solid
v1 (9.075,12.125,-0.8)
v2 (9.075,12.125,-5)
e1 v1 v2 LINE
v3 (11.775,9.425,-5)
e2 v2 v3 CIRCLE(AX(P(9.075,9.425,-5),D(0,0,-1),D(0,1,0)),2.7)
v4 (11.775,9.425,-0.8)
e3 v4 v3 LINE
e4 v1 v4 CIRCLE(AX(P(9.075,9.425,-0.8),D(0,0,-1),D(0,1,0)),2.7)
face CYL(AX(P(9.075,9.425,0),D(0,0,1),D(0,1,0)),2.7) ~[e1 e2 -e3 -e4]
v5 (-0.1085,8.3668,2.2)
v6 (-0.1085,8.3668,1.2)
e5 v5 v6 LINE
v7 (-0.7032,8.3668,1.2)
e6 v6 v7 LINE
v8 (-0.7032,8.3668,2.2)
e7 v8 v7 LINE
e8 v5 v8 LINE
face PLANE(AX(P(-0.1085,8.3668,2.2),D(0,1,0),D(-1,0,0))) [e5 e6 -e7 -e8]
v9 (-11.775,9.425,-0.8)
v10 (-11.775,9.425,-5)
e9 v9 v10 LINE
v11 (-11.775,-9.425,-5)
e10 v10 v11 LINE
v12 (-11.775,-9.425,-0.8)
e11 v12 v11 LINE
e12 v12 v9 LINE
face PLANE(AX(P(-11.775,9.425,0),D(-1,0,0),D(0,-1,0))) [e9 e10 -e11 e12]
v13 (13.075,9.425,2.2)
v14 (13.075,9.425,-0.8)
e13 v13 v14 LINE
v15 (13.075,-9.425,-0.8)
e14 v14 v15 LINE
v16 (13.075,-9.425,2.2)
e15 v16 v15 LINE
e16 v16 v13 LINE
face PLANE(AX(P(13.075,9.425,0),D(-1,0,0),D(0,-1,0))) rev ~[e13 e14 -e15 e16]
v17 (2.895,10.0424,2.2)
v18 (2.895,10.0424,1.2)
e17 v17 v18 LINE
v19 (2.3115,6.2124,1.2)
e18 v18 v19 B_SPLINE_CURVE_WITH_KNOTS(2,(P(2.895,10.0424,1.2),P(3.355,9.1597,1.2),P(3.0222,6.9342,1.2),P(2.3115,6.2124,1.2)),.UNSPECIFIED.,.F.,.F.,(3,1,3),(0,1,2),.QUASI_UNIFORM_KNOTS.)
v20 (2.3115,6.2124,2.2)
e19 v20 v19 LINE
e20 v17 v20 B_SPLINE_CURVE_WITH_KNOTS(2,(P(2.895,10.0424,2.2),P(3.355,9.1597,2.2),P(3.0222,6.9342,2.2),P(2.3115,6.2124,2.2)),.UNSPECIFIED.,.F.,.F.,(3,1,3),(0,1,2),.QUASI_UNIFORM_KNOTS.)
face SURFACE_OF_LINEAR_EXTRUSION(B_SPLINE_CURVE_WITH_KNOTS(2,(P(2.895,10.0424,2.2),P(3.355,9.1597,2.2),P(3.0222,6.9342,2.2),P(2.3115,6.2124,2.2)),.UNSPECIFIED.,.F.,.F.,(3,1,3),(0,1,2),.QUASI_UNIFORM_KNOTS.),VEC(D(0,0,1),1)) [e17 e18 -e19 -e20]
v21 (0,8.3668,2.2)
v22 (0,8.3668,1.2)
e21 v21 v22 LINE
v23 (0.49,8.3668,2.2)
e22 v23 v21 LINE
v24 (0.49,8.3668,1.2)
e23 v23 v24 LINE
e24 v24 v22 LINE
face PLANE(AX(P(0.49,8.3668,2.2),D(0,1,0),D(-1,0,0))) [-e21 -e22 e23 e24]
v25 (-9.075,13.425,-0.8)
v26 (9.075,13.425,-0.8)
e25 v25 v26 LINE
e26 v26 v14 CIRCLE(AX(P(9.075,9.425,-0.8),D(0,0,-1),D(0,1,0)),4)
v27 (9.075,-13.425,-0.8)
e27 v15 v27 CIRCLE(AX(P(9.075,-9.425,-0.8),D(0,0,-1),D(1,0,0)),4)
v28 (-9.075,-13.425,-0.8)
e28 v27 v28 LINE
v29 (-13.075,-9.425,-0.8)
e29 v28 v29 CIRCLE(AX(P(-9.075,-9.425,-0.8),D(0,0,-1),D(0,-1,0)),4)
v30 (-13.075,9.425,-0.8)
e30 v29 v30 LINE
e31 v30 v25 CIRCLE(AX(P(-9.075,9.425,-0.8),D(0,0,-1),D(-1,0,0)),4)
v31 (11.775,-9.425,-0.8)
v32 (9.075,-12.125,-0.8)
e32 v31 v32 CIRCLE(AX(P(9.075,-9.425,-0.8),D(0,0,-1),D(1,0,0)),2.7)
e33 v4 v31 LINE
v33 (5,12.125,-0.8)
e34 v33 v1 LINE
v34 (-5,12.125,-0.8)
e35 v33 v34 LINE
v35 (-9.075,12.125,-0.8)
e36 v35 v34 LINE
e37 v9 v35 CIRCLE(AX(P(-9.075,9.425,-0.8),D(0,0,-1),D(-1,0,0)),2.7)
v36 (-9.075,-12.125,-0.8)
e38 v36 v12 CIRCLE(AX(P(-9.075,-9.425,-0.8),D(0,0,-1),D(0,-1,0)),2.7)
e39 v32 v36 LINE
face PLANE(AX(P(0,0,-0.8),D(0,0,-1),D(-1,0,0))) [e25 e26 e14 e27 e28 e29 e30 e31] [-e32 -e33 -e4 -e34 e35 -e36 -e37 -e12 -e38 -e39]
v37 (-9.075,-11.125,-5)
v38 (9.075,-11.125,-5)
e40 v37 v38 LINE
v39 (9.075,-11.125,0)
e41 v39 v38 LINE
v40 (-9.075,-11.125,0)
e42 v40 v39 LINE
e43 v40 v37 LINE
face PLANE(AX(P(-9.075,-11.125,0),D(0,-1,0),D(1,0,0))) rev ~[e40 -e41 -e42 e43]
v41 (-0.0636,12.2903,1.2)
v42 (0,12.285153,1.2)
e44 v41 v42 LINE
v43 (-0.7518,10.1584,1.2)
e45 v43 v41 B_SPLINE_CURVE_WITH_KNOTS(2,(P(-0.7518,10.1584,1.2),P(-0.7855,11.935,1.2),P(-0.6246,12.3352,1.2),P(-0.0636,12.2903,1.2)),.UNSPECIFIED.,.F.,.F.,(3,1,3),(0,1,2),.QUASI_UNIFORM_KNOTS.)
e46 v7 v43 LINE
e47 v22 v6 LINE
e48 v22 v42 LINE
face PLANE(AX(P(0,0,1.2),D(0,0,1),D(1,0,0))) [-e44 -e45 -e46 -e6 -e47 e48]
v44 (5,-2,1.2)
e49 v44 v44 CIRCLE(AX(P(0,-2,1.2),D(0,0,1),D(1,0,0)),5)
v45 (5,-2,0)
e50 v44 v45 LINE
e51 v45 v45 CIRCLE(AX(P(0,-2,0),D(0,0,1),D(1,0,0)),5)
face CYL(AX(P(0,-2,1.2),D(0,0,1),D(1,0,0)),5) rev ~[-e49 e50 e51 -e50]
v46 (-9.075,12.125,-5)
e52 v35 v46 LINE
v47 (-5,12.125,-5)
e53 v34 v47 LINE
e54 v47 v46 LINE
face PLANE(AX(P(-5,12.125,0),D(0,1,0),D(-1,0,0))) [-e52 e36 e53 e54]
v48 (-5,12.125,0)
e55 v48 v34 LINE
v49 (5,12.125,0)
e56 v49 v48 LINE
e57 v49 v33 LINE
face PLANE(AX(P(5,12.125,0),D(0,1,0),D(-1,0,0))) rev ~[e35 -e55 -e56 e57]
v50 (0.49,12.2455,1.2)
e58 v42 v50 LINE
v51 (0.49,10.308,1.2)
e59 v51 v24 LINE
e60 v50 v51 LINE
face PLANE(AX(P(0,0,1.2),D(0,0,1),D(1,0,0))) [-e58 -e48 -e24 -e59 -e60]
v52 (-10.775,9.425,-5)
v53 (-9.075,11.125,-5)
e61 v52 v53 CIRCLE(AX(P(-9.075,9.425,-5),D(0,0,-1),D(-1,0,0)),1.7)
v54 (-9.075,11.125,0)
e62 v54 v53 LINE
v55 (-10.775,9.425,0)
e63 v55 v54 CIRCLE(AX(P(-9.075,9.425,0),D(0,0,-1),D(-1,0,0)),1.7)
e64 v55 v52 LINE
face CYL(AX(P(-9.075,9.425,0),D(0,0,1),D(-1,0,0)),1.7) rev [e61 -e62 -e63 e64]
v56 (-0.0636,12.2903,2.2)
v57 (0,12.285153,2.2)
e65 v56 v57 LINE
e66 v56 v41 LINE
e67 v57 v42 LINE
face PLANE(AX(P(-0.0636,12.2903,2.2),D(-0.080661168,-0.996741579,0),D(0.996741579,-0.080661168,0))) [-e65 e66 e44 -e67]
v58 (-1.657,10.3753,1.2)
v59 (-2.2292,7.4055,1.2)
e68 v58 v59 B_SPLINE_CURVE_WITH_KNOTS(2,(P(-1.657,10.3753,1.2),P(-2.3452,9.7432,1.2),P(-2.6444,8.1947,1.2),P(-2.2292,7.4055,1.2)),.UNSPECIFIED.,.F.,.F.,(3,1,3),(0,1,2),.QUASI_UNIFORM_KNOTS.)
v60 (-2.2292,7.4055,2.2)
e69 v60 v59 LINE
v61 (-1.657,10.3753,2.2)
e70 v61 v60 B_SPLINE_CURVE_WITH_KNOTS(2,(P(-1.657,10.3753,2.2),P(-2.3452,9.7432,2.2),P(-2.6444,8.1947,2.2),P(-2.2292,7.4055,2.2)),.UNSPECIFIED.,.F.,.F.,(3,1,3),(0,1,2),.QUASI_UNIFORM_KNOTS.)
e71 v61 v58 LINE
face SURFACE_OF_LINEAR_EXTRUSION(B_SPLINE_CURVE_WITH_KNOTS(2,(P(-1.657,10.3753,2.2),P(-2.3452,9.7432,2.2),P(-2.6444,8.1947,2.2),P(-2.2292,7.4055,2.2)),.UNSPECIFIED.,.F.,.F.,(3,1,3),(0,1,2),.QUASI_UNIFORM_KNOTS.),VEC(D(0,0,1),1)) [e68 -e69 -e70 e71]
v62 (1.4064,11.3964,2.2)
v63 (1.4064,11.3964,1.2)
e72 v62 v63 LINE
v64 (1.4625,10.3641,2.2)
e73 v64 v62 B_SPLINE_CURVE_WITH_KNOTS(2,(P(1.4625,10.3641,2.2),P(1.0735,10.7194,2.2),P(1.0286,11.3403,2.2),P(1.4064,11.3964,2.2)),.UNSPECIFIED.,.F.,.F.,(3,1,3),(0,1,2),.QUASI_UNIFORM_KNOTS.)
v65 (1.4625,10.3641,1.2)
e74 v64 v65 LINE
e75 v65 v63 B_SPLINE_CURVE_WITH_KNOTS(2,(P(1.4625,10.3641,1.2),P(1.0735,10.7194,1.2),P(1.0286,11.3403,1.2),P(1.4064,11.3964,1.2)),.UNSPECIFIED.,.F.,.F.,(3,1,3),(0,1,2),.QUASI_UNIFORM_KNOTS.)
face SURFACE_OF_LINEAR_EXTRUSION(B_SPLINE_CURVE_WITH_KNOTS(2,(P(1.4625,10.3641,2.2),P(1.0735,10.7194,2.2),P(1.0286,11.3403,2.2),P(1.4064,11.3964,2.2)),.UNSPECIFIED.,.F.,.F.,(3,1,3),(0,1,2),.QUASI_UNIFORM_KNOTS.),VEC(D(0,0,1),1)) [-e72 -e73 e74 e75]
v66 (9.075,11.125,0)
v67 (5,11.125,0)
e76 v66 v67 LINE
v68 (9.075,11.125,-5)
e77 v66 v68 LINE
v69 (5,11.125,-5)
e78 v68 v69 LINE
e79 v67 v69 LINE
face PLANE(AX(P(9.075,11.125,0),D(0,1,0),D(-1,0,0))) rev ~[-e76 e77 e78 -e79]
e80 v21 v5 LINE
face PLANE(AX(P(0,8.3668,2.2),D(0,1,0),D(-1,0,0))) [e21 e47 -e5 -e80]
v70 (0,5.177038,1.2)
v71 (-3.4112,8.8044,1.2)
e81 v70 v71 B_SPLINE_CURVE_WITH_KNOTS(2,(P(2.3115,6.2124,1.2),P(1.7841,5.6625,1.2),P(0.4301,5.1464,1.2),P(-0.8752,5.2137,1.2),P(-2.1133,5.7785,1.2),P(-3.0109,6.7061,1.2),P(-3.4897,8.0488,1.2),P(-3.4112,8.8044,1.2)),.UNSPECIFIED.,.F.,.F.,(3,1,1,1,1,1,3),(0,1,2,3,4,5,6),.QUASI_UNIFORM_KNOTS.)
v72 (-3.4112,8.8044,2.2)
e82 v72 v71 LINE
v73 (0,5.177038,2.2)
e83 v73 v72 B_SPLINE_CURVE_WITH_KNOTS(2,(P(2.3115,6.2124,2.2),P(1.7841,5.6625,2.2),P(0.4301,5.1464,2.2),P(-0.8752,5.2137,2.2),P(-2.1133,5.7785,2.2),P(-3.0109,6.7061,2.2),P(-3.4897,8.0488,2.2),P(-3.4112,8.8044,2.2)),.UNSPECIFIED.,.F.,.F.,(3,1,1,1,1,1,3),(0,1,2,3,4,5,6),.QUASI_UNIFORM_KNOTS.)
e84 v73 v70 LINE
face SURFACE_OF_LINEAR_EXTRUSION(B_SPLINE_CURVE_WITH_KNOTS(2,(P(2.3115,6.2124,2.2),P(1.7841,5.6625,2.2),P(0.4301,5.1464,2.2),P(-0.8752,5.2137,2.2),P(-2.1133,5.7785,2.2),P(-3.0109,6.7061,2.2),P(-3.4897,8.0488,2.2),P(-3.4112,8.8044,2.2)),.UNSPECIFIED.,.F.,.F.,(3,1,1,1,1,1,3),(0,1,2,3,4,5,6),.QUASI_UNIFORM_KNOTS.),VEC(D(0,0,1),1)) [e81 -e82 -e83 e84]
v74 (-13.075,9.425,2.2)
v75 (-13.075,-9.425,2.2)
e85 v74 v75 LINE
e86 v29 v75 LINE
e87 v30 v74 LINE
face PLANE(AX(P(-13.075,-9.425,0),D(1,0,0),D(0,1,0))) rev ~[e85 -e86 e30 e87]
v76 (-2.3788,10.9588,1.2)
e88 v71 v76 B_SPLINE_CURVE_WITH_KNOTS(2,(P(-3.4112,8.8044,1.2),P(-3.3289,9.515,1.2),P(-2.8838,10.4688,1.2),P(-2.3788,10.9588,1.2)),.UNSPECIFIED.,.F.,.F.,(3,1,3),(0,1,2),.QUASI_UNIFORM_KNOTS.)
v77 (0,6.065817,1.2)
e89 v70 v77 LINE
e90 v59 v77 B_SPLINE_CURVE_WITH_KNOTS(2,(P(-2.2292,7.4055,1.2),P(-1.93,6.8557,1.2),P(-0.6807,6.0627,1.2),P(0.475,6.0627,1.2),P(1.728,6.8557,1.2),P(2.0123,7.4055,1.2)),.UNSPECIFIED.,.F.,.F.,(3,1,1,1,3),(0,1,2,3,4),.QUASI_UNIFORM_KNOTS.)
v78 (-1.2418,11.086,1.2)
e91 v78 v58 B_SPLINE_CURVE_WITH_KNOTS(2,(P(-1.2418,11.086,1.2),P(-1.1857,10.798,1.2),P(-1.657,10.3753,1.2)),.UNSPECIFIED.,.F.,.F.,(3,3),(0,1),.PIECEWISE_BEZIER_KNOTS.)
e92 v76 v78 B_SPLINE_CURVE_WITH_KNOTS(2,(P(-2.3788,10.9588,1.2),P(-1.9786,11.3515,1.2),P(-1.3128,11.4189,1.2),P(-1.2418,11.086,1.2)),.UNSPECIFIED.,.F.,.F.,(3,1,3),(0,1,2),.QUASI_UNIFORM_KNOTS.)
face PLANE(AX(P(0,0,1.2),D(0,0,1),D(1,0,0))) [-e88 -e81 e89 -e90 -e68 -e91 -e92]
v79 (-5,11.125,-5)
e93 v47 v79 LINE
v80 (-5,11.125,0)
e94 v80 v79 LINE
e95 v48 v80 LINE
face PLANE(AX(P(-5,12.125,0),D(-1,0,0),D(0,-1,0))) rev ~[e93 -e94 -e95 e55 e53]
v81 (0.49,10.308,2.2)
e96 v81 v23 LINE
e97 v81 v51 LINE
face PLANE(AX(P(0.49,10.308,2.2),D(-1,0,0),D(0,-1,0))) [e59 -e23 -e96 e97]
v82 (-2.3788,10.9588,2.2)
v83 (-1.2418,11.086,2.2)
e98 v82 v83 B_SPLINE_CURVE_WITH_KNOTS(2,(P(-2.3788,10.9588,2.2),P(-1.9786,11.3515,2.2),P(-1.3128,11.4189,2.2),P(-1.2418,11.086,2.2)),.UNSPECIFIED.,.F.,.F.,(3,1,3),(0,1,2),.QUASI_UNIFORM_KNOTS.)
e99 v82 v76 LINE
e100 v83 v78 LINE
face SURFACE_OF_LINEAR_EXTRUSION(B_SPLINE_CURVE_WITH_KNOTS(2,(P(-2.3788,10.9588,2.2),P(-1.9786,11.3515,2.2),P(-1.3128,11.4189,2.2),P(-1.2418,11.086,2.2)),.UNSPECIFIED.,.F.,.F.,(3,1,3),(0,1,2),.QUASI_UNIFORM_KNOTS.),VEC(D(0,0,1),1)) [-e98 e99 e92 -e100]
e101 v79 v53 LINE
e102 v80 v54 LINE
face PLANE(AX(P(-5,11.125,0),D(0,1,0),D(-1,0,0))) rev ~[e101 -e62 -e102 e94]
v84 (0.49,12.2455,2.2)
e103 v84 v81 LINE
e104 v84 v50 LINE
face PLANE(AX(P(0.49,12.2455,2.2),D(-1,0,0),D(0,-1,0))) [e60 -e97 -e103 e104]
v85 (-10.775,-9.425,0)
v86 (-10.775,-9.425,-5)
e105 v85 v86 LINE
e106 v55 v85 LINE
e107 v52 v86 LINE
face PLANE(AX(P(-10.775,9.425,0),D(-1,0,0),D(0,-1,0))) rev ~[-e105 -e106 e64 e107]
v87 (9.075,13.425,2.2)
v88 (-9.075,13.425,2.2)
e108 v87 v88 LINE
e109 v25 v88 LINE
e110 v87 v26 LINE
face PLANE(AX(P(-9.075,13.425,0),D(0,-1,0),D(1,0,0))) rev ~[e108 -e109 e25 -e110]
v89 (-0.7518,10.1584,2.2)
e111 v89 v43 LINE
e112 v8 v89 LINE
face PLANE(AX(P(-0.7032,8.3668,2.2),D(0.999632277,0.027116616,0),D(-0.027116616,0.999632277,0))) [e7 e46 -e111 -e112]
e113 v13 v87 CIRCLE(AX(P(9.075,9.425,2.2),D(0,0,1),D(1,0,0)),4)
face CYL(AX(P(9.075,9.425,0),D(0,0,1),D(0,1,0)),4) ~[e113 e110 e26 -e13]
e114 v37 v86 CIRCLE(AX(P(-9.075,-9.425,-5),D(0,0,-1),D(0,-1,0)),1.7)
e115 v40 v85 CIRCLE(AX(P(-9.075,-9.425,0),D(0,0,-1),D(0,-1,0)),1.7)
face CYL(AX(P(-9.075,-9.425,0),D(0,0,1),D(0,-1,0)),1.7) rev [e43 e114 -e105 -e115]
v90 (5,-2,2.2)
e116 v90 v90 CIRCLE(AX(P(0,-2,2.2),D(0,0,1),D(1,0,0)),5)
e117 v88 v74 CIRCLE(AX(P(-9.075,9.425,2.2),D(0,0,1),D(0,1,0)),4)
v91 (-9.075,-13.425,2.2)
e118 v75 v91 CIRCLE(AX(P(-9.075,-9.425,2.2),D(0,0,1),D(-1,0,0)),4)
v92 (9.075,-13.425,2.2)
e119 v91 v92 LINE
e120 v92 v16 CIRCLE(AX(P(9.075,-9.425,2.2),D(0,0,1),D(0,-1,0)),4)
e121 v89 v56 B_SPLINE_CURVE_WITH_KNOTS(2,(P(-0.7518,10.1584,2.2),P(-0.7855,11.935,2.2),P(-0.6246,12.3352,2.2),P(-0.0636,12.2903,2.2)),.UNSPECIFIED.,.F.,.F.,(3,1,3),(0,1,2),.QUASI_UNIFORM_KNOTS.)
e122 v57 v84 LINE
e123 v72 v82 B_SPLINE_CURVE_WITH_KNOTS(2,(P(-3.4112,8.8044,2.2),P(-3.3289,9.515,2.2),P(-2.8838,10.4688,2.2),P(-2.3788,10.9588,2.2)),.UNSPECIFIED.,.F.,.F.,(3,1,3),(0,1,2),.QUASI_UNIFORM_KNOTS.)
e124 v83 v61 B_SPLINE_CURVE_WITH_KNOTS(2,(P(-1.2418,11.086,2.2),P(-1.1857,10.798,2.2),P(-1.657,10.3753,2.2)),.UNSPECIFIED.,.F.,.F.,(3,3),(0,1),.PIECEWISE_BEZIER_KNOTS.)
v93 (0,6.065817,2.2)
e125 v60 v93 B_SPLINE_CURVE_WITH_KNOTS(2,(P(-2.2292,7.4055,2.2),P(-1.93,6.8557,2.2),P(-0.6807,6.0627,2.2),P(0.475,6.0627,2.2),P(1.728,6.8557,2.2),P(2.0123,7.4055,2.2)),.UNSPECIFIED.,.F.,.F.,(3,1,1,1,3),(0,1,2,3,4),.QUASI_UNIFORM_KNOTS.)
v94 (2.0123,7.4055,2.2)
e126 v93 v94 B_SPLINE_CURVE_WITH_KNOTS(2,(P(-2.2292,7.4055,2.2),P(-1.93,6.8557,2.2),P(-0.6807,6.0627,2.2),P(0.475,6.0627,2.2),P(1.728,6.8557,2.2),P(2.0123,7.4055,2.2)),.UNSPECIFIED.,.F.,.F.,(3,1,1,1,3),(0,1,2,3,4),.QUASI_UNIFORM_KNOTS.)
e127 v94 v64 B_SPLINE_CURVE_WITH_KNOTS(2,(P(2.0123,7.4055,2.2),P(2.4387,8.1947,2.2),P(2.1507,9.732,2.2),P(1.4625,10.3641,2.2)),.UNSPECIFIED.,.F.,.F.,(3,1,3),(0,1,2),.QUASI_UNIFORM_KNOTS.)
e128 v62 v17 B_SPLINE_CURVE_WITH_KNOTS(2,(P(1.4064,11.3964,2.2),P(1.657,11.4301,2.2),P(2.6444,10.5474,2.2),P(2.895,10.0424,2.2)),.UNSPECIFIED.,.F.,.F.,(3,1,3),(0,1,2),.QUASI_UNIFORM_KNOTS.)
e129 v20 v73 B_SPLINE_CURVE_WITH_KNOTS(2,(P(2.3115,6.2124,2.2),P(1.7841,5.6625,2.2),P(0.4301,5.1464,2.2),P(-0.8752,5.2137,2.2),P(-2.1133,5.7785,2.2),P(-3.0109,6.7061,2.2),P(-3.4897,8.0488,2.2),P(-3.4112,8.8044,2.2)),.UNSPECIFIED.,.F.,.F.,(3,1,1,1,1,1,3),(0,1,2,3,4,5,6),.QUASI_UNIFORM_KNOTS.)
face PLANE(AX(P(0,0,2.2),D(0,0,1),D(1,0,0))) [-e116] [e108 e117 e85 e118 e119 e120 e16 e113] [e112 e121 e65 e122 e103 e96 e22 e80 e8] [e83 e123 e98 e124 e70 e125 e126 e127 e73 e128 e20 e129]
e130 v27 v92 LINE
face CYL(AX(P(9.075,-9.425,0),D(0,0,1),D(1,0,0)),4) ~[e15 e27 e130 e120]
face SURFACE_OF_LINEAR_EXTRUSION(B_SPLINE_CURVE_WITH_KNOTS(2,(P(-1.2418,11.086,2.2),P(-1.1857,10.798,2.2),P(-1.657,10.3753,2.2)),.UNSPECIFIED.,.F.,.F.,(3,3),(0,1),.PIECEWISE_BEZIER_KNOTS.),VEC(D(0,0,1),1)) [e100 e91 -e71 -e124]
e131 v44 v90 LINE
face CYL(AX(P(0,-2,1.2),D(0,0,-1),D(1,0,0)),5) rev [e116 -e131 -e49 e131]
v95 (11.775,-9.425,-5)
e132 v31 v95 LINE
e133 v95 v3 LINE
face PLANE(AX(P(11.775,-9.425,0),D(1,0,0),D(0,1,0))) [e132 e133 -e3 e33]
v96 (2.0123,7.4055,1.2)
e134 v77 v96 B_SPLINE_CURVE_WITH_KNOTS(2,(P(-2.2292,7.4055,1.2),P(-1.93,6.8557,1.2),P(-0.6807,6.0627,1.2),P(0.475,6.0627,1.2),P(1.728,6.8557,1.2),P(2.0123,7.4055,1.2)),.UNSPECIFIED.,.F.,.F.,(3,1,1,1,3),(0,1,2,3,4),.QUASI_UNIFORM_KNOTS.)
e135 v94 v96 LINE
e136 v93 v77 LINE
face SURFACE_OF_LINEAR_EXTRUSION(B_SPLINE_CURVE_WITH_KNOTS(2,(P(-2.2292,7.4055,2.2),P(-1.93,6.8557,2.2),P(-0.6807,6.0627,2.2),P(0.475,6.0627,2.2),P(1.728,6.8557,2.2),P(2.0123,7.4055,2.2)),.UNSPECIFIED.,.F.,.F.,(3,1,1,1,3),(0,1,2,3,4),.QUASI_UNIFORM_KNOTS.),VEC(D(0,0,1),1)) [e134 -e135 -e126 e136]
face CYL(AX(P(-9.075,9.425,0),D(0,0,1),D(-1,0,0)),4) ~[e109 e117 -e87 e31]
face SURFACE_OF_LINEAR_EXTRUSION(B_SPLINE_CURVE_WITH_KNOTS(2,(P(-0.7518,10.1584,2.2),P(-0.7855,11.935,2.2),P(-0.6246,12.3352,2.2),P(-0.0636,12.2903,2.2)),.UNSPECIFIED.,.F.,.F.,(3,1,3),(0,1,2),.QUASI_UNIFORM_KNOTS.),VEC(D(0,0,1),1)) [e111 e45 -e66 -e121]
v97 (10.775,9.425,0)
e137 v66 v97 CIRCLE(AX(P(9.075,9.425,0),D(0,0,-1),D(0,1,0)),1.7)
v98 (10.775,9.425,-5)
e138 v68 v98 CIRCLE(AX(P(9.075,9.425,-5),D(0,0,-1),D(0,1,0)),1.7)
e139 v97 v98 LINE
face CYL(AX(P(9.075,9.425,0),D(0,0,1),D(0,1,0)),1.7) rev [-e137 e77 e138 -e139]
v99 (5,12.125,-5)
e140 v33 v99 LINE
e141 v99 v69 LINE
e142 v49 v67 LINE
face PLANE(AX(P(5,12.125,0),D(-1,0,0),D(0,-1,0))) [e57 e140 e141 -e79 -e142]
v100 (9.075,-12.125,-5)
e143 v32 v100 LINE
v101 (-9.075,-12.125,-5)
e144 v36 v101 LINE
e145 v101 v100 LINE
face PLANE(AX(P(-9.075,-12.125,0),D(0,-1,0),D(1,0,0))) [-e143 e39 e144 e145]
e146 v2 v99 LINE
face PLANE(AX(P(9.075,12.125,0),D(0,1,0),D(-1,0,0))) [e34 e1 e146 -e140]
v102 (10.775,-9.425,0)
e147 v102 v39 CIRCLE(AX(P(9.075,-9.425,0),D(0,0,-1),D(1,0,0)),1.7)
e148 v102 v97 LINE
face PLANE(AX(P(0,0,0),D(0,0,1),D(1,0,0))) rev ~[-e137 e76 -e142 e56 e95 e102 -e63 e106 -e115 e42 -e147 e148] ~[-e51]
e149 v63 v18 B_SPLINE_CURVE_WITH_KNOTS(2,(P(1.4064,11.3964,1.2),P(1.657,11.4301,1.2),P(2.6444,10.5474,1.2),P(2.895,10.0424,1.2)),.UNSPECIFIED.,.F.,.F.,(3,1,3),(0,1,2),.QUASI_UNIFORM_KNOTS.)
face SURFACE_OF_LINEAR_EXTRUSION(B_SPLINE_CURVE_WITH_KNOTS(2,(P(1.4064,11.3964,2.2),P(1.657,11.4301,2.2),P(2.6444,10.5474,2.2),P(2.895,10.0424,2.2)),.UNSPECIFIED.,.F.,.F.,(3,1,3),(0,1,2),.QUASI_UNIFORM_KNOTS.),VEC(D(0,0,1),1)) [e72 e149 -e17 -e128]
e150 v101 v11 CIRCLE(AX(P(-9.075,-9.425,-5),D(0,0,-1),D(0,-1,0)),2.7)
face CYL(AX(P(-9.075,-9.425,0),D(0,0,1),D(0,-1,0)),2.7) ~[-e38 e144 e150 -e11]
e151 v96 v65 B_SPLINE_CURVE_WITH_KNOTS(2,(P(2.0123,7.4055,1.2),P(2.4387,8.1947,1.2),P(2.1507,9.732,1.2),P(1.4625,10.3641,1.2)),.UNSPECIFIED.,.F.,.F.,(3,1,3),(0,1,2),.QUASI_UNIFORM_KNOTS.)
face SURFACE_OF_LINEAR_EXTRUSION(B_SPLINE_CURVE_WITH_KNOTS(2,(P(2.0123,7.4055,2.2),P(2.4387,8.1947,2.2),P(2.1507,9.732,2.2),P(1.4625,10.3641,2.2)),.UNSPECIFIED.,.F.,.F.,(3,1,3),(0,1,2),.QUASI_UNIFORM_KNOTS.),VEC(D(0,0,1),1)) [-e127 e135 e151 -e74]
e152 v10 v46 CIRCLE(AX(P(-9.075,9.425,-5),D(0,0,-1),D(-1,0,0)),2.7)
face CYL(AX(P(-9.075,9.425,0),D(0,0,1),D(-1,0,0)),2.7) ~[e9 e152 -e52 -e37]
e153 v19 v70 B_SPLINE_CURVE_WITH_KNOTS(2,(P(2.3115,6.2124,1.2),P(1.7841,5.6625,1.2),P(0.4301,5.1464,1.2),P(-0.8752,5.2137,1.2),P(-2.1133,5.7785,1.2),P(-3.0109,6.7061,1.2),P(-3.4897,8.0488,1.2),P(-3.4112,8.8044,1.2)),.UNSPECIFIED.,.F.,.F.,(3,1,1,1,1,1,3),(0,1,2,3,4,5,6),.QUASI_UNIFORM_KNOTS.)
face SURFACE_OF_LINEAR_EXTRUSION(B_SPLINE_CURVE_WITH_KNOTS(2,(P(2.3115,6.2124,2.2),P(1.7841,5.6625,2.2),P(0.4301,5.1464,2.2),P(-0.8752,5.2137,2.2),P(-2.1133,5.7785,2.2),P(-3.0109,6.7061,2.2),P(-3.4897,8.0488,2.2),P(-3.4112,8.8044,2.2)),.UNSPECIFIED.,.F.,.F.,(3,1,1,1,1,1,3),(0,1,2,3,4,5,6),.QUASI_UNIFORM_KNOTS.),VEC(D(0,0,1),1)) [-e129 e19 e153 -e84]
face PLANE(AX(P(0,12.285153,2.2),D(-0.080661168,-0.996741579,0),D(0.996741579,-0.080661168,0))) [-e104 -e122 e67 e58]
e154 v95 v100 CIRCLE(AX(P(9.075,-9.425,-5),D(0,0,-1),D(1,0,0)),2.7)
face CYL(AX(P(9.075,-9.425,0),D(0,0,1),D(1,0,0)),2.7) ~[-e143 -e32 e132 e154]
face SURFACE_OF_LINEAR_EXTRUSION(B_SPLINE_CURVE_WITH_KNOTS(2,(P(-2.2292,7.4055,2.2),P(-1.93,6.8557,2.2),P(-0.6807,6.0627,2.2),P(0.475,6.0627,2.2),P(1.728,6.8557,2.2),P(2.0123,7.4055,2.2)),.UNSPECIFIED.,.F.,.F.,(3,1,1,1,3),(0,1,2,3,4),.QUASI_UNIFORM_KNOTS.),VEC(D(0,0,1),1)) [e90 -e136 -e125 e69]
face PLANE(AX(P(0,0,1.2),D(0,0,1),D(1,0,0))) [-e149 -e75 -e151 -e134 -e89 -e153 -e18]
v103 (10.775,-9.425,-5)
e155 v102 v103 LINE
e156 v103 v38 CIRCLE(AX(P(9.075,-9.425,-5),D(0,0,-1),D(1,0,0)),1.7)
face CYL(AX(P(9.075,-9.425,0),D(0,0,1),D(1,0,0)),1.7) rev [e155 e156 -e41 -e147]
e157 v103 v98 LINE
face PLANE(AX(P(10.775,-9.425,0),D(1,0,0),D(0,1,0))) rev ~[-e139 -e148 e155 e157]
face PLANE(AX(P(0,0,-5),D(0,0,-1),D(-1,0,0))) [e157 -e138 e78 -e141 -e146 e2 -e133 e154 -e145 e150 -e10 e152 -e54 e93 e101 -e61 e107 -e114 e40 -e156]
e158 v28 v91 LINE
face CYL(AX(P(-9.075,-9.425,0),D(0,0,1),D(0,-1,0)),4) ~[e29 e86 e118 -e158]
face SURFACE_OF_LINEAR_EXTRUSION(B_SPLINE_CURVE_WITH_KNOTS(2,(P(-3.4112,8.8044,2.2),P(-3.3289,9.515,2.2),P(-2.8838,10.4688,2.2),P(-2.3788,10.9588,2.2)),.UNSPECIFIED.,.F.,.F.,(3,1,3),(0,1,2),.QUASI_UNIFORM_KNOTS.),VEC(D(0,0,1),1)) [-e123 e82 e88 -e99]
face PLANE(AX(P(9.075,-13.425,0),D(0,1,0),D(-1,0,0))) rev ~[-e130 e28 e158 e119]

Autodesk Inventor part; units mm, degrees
ref_plane "YZ Plane" through (0, 0, 0) normal (1, 0, 0) x (0, 1, 0)
ref_plane "XZ Plane" through (0, 0, 0) normal (0, 1, 0) x (-1, 0, 0)
ref_plane "XY Plane" through (0, 0, 0) normal (0, 0, 1) x (1, 0, 0)
ref_plane "Work Plane1" through (0, 0, 0) normal (0, 0, 1) x (1, 0, 0)
sketch "Sketch1" plane through (0, 0, 0) normal (0, 0, 1) x (1, 0, 0)
  line L0 (13.075, 9.425) -> (13.075, -9.425) projected
  arc A0 (13.075, 9.425) -> (9.075, 13.425) centre (9.075, 9.425) ccw projected
  line L1 (5, 13.425) -> (9.075, 13.425) projected
  line L2 (-4, 13.425) -> (4, 13.425) projected
  line L3 (5, 13.425) -> (4, 13.425) projected
  line L4 (-4, 13.425) -> (-5, 13.425) projected
  line L5 (-9.075, 13.425) -> (-5, 13.425) projected
  arc A1 (-9.075, 13.425) -> (-13.075, 9.425) centre (-9.075, 9.425) ccw projected
  line L6 (-13.075, -9.425) -> (-13.075, 9.425) projected
  arc A2 (-13.075, -9.425) -> (-9.075, -13.425) centre (-9.075, -9.425) ccw projected
  line L7 (9.075, -13.425) -> (-9.075, -13.425) projected
  arc A3 (9.075, -13.425) -> (13.075, -9.425) centre (9.075, -9.425) ccw projected
  point P0 (0, 0)
extrude "Extrusion1" add sketch "Sketch1" along normal blind 1.2
sketch "Sketch2" plane through (0, 0, 1.2) normal (0, 0, 1) x (1, 0, 0)
  circle A0 centre (0, -2) radius 3.85
  line L0 (-9.075, -13.425) -> (9.075, -13.425)
  point P0 (0, 0)
  dimension "d10" = 13.425
  dimension "d11" = 2
extrude "Extrusion2" cut sketch "Sketch2" against normal blind 1.2
sketch "Sketch3" plane through (0, 0, 0) normal (0, 0, -1) x (-1, 0, 0)
  arc A0 (-9.075, 12.225) -> (-11.875, 9.425) centre (-9.075, 9.425) ccw projected
  line L0 (-9.075, 12.225) -> (-5, 12.225) projected
  line L1 (-11.875, -9.425) -> (-11.875, 9.425) projected
  arc A1 (-11.875, -9.425) -> (-9.075, -12.225) centre (-9.075, -9.425) ccw projected
  line L2 (9.075, -12.225) -> (-9.075, -12.225) projected
  arc A2 (9.075, -12.225) -> (11.875, -9.425) centre (9.075, -9.425) ccw projected
  line L3 (11.875, 9.425) -> (11.875, -9.425) projected
  arc A3 (11.875, 9.425) -> (9.075, 12.225) centre (9.075, 9.425) ccw projected
  line L4 (5, 12.225) -> (9.075, 12.225) projected
  line L5 (5, 12.125) -> (9.075, 12.125)
  arc A4 (11.775, 9.425) -> (9.075, 12.125) centre (9.075, 9.425) ccw
  line L6 (11.775, 9.425) -> (11.775, -9.425)
  arc A5 (9.075, -12.125) -> (11.775, -9.425) centre (9.075, -9.425) ccw
  line L7 (9.075, -12.125) -> (-9.075, -12.125)
  arc A6 (-11.775, -9.425) -> (-9.075, -12.125) centre (-9.075, -9.425) ccw
  line L8 (-11.775, -9.425) -> (-11.775, 9.425)
  arc A7 (-9.075, 12.125) -> (-11.775, 9.425) centre (-9.075, 9.425) ccw
  line L9 (-9.075, 12.125) -> (-5, 12.125)
  line L10 (5, 11.125) -> (9.075, 11.125)
  arc A8 (10.775, 9.425) -> (9.075, 11.125) centre (9.075, 9.425) ccw
  line L11 (10.775, 9.425) -> (10.775, -9.425)
  arc A9 (9.075, -11.125) -> (10.775, -9.425) centre (9.075, -9.425) ccw
  line L12 (9.075, -11.125) -> (-9.075, -11.125)
  arc A10 (-10.775, -9.425) -> (-9.075, -11.125) centre (-9.075, -9.425) ccw
  line L13 (-10.775, -9.425) -> (-10.775, 9.425)
  arc A11 (-9.075, 11.125) -> (-10.775, 9.425) centre (-9.075, 9.425) ccw
  line L14 (-9.075, 11.125) -> (-5, 11.125)
  line L15 (-5, 12.125) -> (-5, 11.125)
  line L16 (5, 12.125) -> (5, 11.125)
  point P0 (0, 0)
  dimension "d5" = 0.1
  dimension "d6" = 1
extrude "Extrusion3" add sketch "Sketch3" along normal blind 5
sketch "Sketch4" plane through (0, 0, 1.2) normal (0, 0, 1) x (1, 0, 0)
  circle A0 centre (0, -2) radius 3.85 construction
  circle A1 centre (0, -2) radius 5
  point P0 (0, 0)
  dimension "d12" = 10
extrude "Extrusion4" cut sketch "Sketch4" against normal blind 10
sketch "Sketch5" plane through (0, 0, 1.2) normal (0, 0, 1) x (1, 0, 0)
  circle A0 centre (0, -2) radius 5 projected
  line L0 (13.075, -9.425) -> (13.075, 9.425) projected
  arc A1 (13.075, 9.425) -> (9.075, 13.425) centre (9.075, 9.425) ccw projected
  line L1 (9.075, 13.425) -> (-9.075, 13.425) projected
  arc A2 (-9.075, 13.425) -> (-13.075, 9.425) centre (-9.075, 9.425) ccw projected
  line L2 (-13.075, 9.425) -> (-13.075, -9.425) projected
  arc A3 (-13.075, -9.425) -> (-9.075, -13.425) centre (-9.075, -9.425) ccw projected
  line L3 (-9.075, -13.425) -> (9.075, -13.425) projected
  arc A4 (9.075, -13.425) -> (13.075, -9.425) centre (9.075, -9.425) ccw projected
  point P0 (0, 0)
extrude "Extrusion5" add sketch "Sketch5" along normal blind 1
sketch "Sketch6" plane through (0, 0, 0) normal (0, 0, -1) x (-1, 0, 0)
  arc A0 (-9.075, 13.425) -> (-13.075, 9.425) centre (-9.075, 9.425) ccw projected
  line L0 (-13.075, 9.425) -> (-13.075, -9.425) projected
  arc A1 (-13.075, -9.425) -> (-9.075, -13.425) centre (-9.075, -9.425) ccw projected
  line L1 (-9.075, -13.425) -> (9.075, -13.425) projected
  arc A2 (9.075, -13.425) -> (13.075, -9.425) centre (9.075, -9.425) ccw projected
  line L2 (13.075, -9.425) -> (13.075, 9.425) projected
  arc A3 (13.075, 9.425) -> (9.075, 13.425) centre (9.075, 9.425) ccw projected
  line L3 (9.075, 13.425) -> (-9.075, 13.425) projected
  line L4 (-5, 12.125) -> (-9.075, 12.125) projected
  arc A4 (-9.075, 12.125) -> (-11.775, 9.425) centre (-9.075, 9.425) ccw projected
  line L5 (-11.775, 9.425) -> (-11.775, -9.425) projected
  arc A5 (-11.775, -9.425) -> (-9.075, -12.125) centre (-9.075, -9.425) ccw projected
  line L6 (-9.075, -12.125) -> (9.075, -12.125) projected
  arc A6 (9.075, -12.125) -> (11.775, -9.425) centre (9.075, -9.425) ccw projected
  line L7 (11.775, -9.425) -> (11.775, 9.425) projected
  arc A7 (11.775, 9.425) -> (9.075, 12.125) centre (9.075, 9.425) ccw projected
  line L8 (9.075, 12.125) -> (5, 12.125) projected
  line L9 (-5, 12.125) -> (5, 12.125)
  point P0 (0, 0)
extrude "Extrusion6" add sketch "Sketch6" along normal blind 0.8
sketch "Sketch7" plane through (0, 0, 2.2) normal (0, 0, 1) x (1, 0, 0)
  line L0 (-4.3978, 12.3352) -> (4.3978, 12.3352) construction
  line L1 (4.3978, 12.3352) -> (4.3978, 5.3989) construction
  line L2 (4.3978, 5.3989) -> (-4.3978, 5.3989) construction
  line L3 (-4.3978, 5.3989) -> (-4.3978, 12.3352) construction
  line L4 (0, -18.795) -> (0, 18.795) projected
  spline S0 degree 2 poles (-2.3788, 10.9588) (-1.9786, 11.3515) (-1.3128, 11.4189) (-1.2418, 11.086) knots 0 0 0 1 2 2 2
  spline S1 degree 2 poles (-1.2418, 11.086) (-1.1857, 10.798) (-1.657, 10.3753) knots 0 0 0 1 1 1
  spline S2 degree 2 poles (-1.657, 10.3753) (-2.3452, 9.7432) (-2.6444, 8.1947) (-2.2292, 7.4055) knots 0 0 0 1 2 2 2
  spline S3 degree 2 poles (-2.2292, 7.4055) (-1.93, 6.8557) (-0.6807, 6.0627) (0.475, 6.0627) (1.728, 6.8557) (2.0123, 7.4055) knots 0 0 0 1 2 3 4 4 4
  spline S4 degree 2 poles (2.0123, 7.4055) (2.4387, 8.1947) (2.1507, 9.732) (1.4625, 10.3641) knots 0 0 0 1 2 2 2
  spline S5 degree 2 poles (1.4625, 10.3641) (1.0735, 10.7194) (1.0286, 11.3403) (1.4064, 11.3964) knots 0 0 0 1 2 2 2
  spline S6 degree 2 poles (1.4064, 11.3964) (1.657, 11.4301) (2.6444, 10.5474) (2.895, 10.0424) knots 0 0 0 1 2 2 2
  spline S7 degree 2 poles (2.895, 10.0424) (3.355, 9.1597) (3.0222, 6.9342) (2.3115, 6.2124) knots 0 0 0 1 2 2 2
  spline S8 degree 2 poles (2.3115, 6.2124) (1.7841, 5.6625) (0.4301, 5.1464) (-0.8752, 5.2137) (-2.1133, 5.7785) (-3.0109, 6.7061) (-3.4897, 8.0488) (-3.4112, 8.8044) knots 0 0 0 1 2 3 4 5 6 6 6
  spline S9 degree 2 poles (-3.4112, 8.8044) (-3.3289, 9.515) (-2.8838, 10.4688) (-2.3788, 10.9588) knots 0 0 0 1 2 2 2
  spline S10 degree 2 poles (-0.7518, 10.1584) (-0.7855, 11.935) (-0.6246, 12.3352) (-0.0636, 12.2903) knots 0 0 0 1 2 2 2
  line L5 (-0.0636, 12.2903) -> (0.49, 12.2455)
  line L6 (0.49, 12.2455) -> (0.49, 10.308)
  line L7 (0.49, 10.308) -> (0.49, 8.3668)
  line L8 (0.49, 8.3668) -> (-0.1085, 8.3668)
  line L9 (-0.1085, 8.3668) -> (-0.7032, 8.3668)
  line L10 (-0.7032, 8.3668) -> (-0.7518, 10.1584)
  point P0 (0, 0)
  point P1 (0, 12.3352)
extrude "Extrusion7" cut sketch "Sketch7" against normal blind 1
properties part number "cap"
